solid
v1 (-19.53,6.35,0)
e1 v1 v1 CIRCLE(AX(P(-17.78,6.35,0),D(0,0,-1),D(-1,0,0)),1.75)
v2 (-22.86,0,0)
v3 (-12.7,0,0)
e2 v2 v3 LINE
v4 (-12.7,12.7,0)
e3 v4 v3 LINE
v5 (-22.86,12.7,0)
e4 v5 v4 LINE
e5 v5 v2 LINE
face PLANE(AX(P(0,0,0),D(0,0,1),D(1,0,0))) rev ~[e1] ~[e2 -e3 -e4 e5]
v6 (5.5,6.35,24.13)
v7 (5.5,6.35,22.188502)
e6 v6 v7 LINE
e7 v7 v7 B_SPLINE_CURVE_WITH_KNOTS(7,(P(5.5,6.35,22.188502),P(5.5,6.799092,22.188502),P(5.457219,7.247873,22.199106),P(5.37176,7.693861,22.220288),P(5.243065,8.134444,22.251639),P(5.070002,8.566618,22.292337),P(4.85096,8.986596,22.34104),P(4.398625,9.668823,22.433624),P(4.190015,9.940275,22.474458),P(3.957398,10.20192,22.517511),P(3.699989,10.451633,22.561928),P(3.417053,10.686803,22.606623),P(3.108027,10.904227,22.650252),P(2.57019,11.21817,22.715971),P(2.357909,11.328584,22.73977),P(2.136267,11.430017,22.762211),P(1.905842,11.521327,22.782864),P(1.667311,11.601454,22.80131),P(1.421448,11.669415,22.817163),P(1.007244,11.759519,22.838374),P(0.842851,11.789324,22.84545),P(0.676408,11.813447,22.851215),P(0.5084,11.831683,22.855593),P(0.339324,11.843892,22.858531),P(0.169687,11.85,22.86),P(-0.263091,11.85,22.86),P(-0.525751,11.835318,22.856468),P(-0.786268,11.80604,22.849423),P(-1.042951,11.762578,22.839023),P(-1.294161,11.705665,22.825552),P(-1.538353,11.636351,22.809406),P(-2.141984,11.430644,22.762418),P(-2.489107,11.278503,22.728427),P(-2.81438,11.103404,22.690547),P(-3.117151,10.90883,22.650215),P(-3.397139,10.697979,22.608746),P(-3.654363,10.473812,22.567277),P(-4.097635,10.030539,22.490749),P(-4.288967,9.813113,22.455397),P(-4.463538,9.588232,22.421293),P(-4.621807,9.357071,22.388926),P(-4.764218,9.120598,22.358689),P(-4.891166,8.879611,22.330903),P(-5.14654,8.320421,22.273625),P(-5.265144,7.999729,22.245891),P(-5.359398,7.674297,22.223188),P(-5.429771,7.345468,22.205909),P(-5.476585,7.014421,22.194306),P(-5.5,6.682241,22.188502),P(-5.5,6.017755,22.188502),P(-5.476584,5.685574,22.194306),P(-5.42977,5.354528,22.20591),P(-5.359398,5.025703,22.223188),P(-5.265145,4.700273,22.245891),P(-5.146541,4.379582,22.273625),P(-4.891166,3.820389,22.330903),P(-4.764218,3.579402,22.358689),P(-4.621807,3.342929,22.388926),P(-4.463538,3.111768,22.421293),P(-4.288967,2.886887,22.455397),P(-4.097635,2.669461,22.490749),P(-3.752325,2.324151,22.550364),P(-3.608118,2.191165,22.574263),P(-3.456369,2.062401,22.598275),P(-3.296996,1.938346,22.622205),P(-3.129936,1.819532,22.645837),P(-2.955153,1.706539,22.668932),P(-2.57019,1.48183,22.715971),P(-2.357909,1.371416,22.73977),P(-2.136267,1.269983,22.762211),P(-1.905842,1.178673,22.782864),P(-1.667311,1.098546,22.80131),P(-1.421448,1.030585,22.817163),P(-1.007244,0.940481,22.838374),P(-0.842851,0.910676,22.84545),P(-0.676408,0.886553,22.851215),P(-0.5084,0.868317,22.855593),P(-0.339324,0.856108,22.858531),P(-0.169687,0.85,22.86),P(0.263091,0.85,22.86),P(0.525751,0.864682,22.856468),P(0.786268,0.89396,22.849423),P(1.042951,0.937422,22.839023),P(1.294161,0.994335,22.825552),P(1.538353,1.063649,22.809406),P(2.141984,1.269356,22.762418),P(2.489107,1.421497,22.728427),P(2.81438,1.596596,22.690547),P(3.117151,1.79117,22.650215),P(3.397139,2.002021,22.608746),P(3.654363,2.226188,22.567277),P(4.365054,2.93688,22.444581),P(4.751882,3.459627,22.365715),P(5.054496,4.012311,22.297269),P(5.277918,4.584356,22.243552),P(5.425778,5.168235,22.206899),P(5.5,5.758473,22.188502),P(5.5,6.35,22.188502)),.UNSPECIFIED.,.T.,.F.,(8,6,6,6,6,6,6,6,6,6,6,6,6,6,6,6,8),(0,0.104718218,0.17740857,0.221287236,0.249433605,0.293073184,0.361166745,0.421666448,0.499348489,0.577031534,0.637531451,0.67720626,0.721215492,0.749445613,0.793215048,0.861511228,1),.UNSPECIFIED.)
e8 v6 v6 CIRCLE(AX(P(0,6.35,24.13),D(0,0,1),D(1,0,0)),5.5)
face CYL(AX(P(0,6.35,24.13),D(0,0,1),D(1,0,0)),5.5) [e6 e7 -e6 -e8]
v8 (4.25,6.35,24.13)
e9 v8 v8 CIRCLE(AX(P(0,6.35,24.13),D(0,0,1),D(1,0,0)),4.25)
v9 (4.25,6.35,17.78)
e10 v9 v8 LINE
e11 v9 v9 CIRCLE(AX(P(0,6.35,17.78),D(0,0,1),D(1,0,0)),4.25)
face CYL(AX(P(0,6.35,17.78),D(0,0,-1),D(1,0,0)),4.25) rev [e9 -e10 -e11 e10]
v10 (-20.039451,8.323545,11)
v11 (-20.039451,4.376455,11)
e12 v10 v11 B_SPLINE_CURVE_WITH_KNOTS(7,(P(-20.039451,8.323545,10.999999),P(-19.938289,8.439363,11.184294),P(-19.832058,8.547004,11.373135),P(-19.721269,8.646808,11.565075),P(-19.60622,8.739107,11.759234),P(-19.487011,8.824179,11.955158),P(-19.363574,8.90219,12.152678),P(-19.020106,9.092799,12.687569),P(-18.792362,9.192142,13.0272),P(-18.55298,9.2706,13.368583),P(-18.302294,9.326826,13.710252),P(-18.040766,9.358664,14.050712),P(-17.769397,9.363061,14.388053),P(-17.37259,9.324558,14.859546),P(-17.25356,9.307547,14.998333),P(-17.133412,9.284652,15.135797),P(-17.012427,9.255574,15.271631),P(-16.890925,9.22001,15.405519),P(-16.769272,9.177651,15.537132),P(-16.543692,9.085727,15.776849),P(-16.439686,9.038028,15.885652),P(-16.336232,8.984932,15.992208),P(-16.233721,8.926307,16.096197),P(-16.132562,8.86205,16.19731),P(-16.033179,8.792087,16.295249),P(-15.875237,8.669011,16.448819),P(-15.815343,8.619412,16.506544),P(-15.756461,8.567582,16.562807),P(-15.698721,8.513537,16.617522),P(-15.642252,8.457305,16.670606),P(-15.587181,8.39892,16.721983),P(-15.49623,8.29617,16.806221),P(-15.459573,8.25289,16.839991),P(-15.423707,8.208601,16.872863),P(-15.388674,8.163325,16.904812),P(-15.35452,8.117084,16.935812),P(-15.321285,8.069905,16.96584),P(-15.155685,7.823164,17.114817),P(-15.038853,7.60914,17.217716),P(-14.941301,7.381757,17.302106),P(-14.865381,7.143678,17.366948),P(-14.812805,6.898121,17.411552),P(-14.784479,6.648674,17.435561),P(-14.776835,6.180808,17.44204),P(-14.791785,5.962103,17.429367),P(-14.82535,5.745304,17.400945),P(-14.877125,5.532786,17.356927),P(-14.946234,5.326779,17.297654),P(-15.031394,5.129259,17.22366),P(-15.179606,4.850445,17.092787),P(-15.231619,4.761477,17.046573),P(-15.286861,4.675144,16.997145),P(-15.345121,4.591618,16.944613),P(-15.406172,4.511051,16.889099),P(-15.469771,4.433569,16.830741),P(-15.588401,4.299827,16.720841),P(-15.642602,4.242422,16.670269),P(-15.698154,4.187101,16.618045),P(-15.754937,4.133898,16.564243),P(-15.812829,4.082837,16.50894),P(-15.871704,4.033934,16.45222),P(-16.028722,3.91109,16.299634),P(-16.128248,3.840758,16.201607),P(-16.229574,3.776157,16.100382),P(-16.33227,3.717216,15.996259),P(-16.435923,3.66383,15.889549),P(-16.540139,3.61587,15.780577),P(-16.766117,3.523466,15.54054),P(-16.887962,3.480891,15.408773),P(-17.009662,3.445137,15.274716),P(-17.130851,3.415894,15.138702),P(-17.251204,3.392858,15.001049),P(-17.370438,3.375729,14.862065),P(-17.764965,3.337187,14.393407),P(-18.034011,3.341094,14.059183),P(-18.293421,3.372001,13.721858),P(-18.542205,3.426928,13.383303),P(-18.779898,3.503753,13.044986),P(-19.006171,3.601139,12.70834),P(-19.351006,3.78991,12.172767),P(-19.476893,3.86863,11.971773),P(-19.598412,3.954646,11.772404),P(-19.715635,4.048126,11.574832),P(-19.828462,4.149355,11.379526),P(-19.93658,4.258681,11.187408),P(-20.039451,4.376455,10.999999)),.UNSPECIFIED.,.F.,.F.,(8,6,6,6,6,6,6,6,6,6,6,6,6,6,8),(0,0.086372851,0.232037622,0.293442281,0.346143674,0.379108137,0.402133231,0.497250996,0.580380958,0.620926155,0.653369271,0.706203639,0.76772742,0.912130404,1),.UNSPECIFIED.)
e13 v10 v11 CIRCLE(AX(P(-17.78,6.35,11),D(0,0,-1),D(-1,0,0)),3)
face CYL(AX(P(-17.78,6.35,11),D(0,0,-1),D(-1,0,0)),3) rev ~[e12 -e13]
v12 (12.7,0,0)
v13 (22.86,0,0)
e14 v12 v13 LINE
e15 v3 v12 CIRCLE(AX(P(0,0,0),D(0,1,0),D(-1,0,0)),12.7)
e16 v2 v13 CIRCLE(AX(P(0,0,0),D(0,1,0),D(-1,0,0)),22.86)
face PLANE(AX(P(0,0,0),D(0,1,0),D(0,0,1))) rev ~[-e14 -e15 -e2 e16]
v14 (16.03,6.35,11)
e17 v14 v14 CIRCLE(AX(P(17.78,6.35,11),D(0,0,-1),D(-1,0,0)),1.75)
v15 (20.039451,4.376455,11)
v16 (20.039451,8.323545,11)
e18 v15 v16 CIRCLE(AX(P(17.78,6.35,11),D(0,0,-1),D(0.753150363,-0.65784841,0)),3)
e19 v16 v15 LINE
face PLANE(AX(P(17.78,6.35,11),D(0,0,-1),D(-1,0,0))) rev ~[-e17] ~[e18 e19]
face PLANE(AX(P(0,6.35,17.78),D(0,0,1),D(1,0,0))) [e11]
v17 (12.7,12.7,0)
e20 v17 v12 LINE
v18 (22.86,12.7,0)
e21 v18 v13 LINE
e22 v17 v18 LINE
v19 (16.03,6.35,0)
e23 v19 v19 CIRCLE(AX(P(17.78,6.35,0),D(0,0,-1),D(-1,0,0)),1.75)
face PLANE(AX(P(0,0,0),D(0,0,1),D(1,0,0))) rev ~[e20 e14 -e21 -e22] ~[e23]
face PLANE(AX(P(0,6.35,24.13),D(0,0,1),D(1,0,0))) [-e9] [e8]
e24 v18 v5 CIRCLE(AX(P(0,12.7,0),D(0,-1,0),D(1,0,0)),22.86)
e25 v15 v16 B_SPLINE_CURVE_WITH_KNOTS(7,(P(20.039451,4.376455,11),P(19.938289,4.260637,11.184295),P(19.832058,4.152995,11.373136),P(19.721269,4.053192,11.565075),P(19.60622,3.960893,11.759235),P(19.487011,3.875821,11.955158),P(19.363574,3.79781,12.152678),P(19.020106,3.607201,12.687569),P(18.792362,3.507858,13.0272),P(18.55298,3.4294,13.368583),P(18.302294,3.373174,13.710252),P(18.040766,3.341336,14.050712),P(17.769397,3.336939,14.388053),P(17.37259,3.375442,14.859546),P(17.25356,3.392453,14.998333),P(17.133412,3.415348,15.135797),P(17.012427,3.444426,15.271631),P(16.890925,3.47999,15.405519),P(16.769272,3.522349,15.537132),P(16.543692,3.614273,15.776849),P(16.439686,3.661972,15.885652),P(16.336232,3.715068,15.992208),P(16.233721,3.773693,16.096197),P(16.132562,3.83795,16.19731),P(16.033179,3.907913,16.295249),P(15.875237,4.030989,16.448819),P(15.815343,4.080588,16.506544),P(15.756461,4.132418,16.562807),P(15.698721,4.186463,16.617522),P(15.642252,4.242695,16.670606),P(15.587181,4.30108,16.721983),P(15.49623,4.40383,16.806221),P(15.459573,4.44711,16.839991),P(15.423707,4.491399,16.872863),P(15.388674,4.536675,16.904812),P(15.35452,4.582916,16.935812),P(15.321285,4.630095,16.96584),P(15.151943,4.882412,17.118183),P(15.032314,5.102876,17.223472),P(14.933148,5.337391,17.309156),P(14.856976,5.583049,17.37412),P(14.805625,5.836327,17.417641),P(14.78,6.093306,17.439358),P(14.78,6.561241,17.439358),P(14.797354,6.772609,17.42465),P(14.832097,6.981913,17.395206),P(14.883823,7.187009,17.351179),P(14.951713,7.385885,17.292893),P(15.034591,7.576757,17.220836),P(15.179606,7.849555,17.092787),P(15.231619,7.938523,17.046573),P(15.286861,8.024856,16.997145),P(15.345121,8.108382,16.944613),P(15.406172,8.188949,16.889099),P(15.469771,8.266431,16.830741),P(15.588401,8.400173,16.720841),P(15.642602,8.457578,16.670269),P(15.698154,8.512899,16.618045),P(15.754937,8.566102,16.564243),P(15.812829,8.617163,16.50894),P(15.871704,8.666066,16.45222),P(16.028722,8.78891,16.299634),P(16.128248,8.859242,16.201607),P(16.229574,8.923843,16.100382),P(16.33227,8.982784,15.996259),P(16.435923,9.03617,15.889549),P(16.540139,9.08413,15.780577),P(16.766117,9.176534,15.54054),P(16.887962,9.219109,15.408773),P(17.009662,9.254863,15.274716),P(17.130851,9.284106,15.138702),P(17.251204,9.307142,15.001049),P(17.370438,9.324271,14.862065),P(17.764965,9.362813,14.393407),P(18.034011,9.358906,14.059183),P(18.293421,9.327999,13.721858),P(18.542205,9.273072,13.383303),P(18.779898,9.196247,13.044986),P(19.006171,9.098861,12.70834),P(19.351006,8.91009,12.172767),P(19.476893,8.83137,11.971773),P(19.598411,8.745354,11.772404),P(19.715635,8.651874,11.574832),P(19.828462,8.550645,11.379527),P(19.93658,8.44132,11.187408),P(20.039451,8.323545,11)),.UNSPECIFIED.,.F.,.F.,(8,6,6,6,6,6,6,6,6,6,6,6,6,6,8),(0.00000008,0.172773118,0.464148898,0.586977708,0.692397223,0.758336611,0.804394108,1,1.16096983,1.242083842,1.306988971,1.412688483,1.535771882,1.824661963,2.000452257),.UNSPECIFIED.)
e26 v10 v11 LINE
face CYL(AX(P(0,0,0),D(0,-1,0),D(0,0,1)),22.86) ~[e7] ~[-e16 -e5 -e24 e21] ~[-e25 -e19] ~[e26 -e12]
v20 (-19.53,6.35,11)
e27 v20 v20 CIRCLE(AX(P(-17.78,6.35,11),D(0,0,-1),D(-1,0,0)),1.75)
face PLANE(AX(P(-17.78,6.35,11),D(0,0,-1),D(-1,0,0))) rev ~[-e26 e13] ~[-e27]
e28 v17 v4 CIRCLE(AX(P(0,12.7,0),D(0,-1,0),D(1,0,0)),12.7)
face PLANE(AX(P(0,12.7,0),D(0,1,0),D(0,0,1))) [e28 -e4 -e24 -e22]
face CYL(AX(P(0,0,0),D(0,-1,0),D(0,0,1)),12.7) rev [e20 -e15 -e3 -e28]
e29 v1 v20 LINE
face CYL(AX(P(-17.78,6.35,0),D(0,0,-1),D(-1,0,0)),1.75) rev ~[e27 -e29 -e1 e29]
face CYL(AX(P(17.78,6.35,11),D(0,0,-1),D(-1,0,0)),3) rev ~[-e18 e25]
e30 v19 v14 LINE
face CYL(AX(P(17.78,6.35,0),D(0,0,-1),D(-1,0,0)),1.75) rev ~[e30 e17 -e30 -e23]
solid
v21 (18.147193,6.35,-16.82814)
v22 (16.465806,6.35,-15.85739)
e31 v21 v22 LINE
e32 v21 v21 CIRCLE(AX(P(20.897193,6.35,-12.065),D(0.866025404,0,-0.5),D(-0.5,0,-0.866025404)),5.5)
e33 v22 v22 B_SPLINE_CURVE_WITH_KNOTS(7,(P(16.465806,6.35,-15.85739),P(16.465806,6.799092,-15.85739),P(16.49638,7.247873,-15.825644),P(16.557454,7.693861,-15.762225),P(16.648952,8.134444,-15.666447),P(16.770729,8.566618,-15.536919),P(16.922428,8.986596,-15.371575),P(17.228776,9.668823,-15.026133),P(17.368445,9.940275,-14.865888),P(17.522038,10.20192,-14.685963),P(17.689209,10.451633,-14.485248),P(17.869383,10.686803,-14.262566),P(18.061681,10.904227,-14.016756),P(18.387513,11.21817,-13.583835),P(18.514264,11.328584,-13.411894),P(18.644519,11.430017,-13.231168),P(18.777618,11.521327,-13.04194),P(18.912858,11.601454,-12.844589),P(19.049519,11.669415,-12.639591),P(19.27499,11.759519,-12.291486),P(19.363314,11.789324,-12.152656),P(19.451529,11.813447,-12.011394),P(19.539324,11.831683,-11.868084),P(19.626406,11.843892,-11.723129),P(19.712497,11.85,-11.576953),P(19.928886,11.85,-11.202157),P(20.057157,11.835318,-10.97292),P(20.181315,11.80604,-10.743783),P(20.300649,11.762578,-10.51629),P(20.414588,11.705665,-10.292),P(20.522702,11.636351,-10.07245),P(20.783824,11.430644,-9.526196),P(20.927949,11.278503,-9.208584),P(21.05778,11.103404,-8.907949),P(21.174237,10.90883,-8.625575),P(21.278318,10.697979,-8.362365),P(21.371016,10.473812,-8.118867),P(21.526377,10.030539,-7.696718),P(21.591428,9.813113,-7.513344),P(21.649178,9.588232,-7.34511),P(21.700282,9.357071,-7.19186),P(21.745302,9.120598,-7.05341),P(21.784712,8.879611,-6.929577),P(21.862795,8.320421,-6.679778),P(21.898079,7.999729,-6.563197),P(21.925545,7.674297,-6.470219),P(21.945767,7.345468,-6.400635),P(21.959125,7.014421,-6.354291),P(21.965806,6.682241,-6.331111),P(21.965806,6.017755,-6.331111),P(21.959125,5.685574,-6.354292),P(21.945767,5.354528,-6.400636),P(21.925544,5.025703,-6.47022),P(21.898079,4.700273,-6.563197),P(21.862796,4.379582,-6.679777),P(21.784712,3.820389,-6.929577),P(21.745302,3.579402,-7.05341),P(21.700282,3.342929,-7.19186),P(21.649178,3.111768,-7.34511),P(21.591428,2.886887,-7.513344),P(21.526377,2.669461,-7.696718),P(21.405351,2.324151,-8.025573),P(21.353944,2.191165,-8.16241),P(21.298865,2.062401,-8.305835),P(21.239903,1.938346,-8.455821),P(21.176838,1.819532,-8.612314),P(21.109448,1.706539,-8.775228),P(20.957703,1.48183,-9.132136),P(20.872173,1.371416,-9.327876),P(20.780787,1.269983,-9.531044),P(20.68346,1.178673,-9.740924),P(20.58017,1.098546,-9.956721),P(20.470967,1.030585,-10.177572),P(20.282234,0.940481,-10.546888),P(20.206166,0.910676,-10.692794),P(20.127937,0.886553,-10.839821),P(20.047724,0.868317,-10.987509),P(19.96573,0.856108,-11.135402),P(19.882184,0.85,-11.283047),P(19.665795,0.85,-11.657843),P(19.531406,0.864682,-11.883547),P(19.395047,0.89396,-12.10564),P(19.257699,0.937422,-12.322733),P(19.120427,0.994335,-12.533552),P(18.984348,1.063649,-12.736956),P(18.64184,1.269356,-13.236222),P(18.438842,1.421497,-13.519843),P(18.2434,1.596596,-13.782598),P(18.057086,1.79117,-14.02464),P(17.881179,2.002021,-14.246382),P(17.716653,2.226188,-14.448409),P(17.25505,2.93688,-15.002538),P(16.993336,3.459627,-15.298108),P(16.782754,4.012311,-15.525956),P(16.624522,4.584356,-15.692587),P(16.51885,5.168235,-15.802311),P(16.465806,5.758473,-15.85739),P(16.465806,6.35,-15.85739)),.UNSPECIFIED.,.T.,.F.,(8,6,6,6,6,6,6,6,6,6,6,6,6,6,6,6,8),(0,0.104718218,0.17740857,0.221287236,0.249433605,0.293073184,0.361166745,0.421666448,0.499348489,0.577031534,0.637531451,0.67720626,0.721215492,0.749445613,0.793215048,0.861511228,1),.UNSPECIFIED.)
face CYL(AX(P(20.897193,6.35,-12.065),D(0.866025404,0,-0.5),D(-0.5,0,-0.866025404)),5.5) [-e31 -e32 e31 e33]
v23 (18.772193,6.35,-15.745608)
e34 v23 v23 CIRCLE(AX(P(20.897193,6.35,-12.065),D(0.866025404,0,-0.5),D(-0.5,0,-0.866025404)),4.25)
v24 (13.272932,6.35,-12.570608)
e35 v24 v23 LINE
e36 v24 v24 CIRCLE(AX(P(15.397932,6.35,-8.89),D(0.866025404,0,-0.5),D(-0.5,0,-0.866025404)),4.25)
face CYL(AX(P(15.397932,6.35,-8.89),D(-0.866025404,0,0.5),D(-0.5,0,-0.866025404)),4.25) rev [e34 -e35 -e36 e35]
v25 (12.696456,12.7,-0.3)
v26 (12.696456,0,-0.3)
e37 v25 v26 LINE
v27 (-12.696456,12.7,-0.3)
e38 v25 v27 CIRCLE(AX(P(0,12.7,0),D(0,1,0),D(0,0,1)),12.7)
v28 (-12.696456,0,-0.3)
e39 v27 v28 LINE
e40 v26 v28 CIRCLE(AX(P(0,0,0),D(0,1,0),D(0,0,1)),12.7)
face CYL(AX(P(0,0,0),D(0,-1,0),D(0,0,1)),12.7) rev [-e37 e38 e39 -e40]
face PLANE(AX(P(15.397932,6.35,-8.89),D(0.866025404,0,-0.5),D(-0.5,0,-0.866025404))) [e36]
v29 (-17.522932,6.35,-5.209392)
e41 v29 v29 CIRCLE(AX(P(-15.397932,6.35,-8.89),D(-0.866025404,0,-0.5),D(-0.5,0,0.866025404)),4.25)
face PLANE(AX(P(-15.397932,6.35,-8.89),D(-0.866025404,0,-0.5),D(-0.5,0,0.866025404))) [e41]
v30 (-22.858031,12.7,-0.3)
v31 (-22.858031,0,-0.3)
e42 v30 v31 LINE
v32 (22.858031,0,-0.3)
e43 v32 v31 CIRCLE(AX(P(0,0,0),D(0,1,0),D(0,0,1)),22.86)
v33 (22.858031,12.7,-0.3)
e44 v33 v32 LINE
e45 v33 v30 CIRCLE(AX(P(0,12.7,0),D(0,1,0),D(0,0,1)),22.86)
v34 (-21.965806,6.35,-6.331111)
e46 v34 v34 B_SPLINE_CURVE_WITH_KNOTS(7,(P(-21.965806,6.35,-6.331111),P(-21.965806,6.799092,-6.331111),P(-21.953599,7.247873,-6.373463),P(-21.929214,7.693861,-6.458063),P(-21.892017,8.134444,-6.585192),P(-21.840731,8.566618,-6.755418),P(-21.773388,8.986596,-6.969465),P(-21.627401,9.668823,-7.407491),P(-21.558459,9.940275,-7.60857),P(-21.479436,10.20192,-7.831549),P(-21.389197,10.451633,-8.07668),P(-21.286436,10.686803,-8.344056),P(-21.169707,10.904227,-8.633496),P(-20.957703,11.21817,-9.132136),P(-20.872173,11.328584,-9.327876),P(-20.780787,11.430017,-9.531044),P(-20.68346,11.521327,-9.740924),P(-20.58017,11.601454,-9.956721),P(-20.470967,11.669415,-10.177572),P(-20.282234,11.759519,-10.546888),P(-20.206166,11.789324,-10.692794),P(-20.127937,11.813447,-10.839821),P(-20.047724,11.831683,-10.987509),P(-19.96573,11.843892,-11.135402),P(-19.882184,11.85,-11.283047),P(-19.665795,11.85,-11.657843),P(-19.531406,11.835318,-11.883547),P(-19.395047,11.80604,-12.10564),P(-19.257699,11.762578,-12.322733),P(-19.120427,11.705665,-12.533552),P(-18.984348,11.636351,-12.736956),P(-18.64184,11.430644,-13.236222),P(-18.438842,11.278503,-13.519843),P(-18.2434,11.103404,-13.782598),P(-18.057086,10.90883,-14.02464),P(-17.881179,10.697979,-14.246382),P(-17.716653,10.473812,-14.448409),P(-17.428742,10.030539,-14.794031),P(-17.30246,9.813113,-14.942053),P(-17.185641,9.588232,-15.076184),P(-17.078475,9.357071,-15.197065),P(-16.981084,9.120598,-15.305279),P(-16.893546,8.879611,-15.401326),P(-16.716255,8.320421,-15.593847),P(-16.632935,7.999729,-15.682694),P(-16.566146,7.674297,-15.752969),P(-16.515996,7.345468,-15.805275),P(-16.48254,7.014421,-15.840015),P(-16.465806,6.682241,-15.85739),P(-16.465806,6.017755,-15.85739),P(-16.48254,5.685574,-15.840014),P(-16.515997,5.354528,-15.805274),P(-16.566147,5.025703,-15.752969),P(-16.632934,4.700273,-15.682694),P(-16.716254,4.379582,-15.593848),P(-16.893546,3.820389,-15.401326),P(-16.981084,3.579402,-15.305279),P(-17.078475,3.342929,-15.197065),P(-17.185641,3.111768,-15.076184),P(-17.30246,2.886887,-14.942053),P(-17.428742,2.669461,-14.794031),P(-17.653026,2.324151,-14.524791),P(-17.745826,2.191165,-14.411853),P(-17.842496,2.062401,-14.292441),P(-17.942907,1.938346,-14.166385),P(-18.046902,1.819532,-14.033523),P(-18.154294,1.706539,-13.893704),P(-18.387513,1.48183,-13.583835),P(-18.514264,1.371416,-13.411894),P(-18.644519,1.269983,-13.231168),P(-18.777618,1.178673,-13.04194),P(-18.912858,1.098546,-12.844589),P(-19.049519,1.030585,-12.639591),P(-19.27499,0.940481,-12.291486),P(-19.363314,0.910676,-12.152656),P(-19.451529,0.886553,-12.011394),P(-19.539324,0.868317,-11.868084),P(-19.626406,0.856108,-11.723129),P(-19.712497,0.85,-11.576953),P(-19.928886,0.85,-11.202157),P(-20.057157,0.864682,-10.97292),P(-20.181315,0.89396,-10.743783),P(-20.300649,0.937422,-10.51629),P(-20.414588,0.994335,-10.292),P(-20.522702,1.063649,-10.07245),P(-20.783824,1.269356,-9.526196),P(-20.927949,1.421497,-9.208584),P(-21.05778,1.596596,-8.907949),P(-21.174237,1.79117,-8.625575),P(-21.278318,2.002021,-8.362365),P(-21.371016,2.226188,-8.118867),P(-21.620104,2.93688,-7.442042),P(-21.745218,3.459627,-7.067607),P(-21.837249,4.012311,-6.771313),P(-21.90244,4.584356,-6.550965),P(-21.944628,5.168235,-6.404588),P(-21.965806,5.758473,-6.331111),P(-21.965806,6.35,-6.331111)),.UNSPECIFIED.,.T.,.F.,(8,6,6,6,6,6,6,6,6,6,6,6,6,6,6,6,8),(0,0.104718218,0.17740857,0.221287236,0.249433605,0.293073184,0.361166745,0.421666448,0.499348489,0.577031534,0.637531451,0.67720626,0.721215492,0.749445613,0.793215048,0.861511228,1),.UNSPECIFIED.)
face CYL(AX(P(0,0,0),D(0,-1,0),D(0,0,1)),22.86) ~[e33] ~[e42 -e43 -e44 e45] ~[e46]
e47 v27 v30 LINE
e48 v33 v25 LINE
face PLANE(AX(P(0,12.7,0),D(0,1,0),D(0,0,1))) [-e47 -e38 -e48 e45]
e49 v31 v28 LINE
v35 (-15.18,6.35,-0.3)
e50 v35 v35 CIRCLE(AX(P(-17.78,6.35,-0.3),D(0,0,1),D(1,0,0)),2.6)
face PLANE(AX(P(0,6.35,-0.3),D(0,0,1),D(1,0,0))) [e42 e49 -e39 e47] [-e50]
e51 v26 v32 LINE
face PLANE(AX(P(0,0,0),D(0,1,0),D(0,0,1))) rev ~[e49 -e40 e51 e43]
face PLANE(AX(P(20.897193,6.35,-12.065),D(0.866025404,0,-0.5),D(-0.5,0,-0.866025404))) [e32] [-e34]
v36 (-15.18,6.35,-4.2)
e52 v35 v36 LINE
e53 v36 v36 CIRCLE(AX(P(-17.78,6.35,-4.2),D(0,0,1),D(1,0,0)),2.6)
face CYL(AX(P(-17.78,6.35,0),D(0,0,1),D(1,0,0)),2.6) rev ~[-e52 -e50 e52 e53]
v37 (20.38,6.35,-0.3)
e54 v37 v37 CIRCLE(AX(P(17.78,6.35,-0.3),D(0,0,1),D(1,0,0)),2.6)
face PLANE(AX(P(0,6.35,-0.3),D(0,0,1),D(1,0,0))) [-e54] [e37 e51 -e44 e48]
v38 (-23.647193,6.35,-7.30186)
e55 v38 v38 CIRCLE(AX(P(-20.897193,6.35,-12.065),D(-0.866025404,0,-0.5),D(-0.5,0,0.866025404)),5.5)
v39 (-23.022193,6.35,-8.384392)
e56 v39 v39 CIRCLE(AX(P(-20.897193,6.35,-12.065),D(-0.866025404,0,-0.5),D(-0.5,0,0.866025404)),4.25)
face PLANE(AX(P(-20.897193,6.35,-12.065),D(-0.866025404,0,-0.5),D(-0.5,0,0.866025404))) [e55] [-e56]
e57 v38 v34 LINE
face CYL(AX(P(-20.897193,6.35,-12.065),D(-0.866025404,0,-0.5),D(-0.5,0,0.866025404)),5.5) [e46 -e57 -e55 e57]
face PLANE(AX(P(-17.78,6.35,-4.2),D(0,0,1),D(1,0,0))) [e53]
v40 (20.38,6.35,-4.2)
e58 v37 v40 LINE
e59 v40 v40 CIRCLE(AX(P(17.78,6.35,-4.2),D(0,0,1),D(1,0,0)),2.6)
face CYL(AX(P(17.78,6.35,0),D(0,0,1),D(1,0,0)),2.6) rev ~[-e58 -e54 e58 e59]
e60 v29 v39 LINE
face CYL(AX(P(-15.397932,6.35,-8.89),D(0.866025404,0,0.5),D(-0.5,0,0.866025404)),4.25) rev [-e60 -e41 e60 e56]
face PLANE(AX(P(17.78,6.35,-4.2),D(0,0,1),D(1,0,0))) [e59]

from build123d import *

# Parameters (mm, degrees)
SKETCH1_R                = 22.86
SKETCH1_R_2              = 12.7
BOSS_EXTRUDE1_DEPTH      = 12.7
BOSS_EXTRUDE2_REACH      = 55.777
BOSS_EXTRUDE2_END_RADIUS = 22.86
SKETCH4_R                = 5.5
CUT_EXTRUDE3_START       = 17.78
SKETCH2_R                = 4.25
CUT_EXTRUDE3_DEPTH       = 6.35
CIRPATTERN1_COUNT        = 3
SKETCH5_R                = 2.6
CUT_EXTRUDE4_DEPTH       = 4.2
SKETCH5_3_R              = 2.6
CUT_EXTRUDE5_DEPTH       = 0.3
CUT_EXTRUDE6_REACH       = 38.093
CUT_EXTRUDE6_END_RADIUS  = 22.86
SKETCH6_R                = 1.75
CUT_EXTRUDE7_START       = -11
SKETCH6_3_R              = 3
CUT_EXTRUDE7_DEPTH       = 26.09344329


with BuildPart() as part:
    # Sketch1 → Boss-Extrude1 (new body)
    with BuildSketch(Plane(origin=(0, 0, 0), x_dir=(1, 0, 0), z_dir=(0, 1, 0))):
        with Locations(Location((0, 0, 0), (0, 0, 270))):
            Circle(SKETCH1_R)
        with Locations(Location((0, 0, 0), (0, 0, 270))):
            Circle(SKETCH1_R_2, mode=Mode.SUBTRACT)
    extrude(amount=BOSS_EXTRUDE1_DEPTH)

    # Boss-Extrude2: up to this cylinder (the profile starts outside it)
    boss_extrude2_end = Plane(origin=(0, 6.35, 0), z_dir=(0, -1, 0)) * Cylinder(BOSS_EXTRUDE2_END_RADIUS, 158.274, mode=Mode.PRIVATE)
    # Sketch4 → Boss-Extrude2 (add, up to the surface)
    with BuildSketch(Plane.XY.offset(24.13), mode=Mode.PRIVATE) as boss_extrude2_sk1:
        with Locations((0, 6.35)):
            Circle(SKETCH4_R)
    boss_extrude2_tool1 = extrude(boss_extrude2_sk1.sketch, amount=-BOSS_EXTRUDE2_REACH, mode=Mode.PRIVATE) - boss_extrude2_end
    boss_extrude2 = boss_extrude2_tool1.solids().sort_by_distance((0, 6.35, 24.13))[0]
    add(boss_extrude2)

    # Sketch2 → Cut-Extrude3 (cut)
    with BuildSketch(Plane.XY.offset(CUT_EXTRUDE3_START)):
        with Locations((0, 6.35)):
            Circle(SKETCH2_R)
    cut_extrude3 = extrude(amount=CUT_EXTRUDE3_DEPTH, mode=Mode.SUBTRACT)

    # CirPattern1: Boss-Extrude2, Cut-Extrude3 ×3 about axis
    cirpattern1_axis = Axis((0, 0, 0), (0, 1, 0))
    add([boss_extrude2.rotate(cirpattern1_axis, i * 360 / CIRPATTERN1_COUNT) for i in range(1, CIRPATTERN1_COUNT)])
    add([cut_extrude3.rotate(cirpattern1_axis, i * 360 / CIRPATTERN1_COUNT) for i in range(1, CIRPATTERN1_COUNT)], mode=Mode.SUBTRACT)


with BuildPart() as body_2:
    # Split1: the piece on the far side of the plane
    add(part.part)
    split(bisect_by=Plane.XY, keep=Keep.BOTTOM)

    # Sketch5 → Cut-Extrude4 (cut)
    with BuildSketch(Plane.XY):
        with Locations((17.78, 6.35)):
            Circle(SKETCH5_R)
        with Locations((-17.78, 6.35)):
            Circle(SKETCH5_R)
    extrude(amount=-CUT_EXTRUDE4_DEPTH, mode=Mode.SUBTRACT)

    # Sketch5<3> → Cut-Extrude5 (cut)
    with BuildSketch(Plane.XY):
        Polygon((22.86, 12.7), (12.7, 12.7), (-22.86, 12.7), (-22.86, 0), (12.7, 0), (22.86, 0), align=None)
        with Locations((-17.78, 6.35)):
            Circle(SKETCH5_3_R, mode=Mode.SUBTRACT)
        with Locations((17.78, 6.35)):
            Circle(SKETCH5_3_R, mode=Mode.SUBTRACT)
    extrude(amount=-CUT_EXTRUDE5_DEPTH, mode=Mode.SUBTRACT)


with BuildPart() as part_1:
    add(part.part)

    # Split1
    split(bisect_by=Plane.XY, keep=Keep.TOP)

    # Cut-Extrude6: up to this cylinder (the profile starts inside it)
    cut_extrude6_end = Plane(origin=(0, 6.35, 0), z_dir=(0, -1, 0)) * Cylinder(CUT_EXTRUDE6_END_RADIUS, 122.906, mode=Mode.PRIVATE)
    # Sketch6 → Cut-Extrude6 (cut, up to the surface)
    with BuildSketch(Plane(origin=(0, 0, 0), x_dir=(-1, 0, 0), z_dir=(0, 0, -1)), mode=Mode.PRIVATE) as cut_extrude6_sk1:
        with Locations((-17.78, 6.35)):
            Circle(SKETCH6_R)
    cut_extrude6_tool1 = extrude(cut_extrude6_sk1.sketch, amount=-CUT_EXTRUDE6_REACH, mode=Mode.PRIVATE) & cut_extrude6_end
    add(cut_extrude6_tool1.solids().sort_by_distance((17.78, 6.35, 0))[0], mode=Mode.SUBTRACT)
    # Sketch6 → Cut-Extrude6 (cut, up to the surface)
    with BuildSketch(Plane(origin=(0, 0, 0), x_dir=(-1, 0, 0), z_dir=(0, 0, -1)), mode=Mode.PRIVATE) as cut_extrude6_sk2:
        with Locations((17.78, 6.35)):
            Circle(SKETCH6_R)
    cut_extrude6_tool2 = extrude(cut_extrude6_sk2.sketch, amount=-CUT_EXTRUDE6_REACH, mode=Mode.PRIVATE) & cut_extrude6_end
    add(cut_extrude6_tool2.solids().sort_by_distance((-17.78, 6.35, 0))[0], mode=Mode.SUBTRACT)

    # Sketch6<3> → Cut-Extrude7 (cut, through all)
    with BuildSketch(Plane(origin=(0, 0, 0), x_dir=(-1, 0, 0), z_dir=(0, 0, -1)).offset(CUT_EXTRUDE7_START)):
        with Locations((-17.78, 6.35)):
            Circle(SKETCH6_3_R)
        with Locations((17.78, 6.35)):
            Circle(SKETCH6_3_R)
    extrude(amount=-CUT_EXTRUDE7_DEPTH, mode=Mode.SUBTRACT)


solid = Compound([body_2.part, part_1.part])
